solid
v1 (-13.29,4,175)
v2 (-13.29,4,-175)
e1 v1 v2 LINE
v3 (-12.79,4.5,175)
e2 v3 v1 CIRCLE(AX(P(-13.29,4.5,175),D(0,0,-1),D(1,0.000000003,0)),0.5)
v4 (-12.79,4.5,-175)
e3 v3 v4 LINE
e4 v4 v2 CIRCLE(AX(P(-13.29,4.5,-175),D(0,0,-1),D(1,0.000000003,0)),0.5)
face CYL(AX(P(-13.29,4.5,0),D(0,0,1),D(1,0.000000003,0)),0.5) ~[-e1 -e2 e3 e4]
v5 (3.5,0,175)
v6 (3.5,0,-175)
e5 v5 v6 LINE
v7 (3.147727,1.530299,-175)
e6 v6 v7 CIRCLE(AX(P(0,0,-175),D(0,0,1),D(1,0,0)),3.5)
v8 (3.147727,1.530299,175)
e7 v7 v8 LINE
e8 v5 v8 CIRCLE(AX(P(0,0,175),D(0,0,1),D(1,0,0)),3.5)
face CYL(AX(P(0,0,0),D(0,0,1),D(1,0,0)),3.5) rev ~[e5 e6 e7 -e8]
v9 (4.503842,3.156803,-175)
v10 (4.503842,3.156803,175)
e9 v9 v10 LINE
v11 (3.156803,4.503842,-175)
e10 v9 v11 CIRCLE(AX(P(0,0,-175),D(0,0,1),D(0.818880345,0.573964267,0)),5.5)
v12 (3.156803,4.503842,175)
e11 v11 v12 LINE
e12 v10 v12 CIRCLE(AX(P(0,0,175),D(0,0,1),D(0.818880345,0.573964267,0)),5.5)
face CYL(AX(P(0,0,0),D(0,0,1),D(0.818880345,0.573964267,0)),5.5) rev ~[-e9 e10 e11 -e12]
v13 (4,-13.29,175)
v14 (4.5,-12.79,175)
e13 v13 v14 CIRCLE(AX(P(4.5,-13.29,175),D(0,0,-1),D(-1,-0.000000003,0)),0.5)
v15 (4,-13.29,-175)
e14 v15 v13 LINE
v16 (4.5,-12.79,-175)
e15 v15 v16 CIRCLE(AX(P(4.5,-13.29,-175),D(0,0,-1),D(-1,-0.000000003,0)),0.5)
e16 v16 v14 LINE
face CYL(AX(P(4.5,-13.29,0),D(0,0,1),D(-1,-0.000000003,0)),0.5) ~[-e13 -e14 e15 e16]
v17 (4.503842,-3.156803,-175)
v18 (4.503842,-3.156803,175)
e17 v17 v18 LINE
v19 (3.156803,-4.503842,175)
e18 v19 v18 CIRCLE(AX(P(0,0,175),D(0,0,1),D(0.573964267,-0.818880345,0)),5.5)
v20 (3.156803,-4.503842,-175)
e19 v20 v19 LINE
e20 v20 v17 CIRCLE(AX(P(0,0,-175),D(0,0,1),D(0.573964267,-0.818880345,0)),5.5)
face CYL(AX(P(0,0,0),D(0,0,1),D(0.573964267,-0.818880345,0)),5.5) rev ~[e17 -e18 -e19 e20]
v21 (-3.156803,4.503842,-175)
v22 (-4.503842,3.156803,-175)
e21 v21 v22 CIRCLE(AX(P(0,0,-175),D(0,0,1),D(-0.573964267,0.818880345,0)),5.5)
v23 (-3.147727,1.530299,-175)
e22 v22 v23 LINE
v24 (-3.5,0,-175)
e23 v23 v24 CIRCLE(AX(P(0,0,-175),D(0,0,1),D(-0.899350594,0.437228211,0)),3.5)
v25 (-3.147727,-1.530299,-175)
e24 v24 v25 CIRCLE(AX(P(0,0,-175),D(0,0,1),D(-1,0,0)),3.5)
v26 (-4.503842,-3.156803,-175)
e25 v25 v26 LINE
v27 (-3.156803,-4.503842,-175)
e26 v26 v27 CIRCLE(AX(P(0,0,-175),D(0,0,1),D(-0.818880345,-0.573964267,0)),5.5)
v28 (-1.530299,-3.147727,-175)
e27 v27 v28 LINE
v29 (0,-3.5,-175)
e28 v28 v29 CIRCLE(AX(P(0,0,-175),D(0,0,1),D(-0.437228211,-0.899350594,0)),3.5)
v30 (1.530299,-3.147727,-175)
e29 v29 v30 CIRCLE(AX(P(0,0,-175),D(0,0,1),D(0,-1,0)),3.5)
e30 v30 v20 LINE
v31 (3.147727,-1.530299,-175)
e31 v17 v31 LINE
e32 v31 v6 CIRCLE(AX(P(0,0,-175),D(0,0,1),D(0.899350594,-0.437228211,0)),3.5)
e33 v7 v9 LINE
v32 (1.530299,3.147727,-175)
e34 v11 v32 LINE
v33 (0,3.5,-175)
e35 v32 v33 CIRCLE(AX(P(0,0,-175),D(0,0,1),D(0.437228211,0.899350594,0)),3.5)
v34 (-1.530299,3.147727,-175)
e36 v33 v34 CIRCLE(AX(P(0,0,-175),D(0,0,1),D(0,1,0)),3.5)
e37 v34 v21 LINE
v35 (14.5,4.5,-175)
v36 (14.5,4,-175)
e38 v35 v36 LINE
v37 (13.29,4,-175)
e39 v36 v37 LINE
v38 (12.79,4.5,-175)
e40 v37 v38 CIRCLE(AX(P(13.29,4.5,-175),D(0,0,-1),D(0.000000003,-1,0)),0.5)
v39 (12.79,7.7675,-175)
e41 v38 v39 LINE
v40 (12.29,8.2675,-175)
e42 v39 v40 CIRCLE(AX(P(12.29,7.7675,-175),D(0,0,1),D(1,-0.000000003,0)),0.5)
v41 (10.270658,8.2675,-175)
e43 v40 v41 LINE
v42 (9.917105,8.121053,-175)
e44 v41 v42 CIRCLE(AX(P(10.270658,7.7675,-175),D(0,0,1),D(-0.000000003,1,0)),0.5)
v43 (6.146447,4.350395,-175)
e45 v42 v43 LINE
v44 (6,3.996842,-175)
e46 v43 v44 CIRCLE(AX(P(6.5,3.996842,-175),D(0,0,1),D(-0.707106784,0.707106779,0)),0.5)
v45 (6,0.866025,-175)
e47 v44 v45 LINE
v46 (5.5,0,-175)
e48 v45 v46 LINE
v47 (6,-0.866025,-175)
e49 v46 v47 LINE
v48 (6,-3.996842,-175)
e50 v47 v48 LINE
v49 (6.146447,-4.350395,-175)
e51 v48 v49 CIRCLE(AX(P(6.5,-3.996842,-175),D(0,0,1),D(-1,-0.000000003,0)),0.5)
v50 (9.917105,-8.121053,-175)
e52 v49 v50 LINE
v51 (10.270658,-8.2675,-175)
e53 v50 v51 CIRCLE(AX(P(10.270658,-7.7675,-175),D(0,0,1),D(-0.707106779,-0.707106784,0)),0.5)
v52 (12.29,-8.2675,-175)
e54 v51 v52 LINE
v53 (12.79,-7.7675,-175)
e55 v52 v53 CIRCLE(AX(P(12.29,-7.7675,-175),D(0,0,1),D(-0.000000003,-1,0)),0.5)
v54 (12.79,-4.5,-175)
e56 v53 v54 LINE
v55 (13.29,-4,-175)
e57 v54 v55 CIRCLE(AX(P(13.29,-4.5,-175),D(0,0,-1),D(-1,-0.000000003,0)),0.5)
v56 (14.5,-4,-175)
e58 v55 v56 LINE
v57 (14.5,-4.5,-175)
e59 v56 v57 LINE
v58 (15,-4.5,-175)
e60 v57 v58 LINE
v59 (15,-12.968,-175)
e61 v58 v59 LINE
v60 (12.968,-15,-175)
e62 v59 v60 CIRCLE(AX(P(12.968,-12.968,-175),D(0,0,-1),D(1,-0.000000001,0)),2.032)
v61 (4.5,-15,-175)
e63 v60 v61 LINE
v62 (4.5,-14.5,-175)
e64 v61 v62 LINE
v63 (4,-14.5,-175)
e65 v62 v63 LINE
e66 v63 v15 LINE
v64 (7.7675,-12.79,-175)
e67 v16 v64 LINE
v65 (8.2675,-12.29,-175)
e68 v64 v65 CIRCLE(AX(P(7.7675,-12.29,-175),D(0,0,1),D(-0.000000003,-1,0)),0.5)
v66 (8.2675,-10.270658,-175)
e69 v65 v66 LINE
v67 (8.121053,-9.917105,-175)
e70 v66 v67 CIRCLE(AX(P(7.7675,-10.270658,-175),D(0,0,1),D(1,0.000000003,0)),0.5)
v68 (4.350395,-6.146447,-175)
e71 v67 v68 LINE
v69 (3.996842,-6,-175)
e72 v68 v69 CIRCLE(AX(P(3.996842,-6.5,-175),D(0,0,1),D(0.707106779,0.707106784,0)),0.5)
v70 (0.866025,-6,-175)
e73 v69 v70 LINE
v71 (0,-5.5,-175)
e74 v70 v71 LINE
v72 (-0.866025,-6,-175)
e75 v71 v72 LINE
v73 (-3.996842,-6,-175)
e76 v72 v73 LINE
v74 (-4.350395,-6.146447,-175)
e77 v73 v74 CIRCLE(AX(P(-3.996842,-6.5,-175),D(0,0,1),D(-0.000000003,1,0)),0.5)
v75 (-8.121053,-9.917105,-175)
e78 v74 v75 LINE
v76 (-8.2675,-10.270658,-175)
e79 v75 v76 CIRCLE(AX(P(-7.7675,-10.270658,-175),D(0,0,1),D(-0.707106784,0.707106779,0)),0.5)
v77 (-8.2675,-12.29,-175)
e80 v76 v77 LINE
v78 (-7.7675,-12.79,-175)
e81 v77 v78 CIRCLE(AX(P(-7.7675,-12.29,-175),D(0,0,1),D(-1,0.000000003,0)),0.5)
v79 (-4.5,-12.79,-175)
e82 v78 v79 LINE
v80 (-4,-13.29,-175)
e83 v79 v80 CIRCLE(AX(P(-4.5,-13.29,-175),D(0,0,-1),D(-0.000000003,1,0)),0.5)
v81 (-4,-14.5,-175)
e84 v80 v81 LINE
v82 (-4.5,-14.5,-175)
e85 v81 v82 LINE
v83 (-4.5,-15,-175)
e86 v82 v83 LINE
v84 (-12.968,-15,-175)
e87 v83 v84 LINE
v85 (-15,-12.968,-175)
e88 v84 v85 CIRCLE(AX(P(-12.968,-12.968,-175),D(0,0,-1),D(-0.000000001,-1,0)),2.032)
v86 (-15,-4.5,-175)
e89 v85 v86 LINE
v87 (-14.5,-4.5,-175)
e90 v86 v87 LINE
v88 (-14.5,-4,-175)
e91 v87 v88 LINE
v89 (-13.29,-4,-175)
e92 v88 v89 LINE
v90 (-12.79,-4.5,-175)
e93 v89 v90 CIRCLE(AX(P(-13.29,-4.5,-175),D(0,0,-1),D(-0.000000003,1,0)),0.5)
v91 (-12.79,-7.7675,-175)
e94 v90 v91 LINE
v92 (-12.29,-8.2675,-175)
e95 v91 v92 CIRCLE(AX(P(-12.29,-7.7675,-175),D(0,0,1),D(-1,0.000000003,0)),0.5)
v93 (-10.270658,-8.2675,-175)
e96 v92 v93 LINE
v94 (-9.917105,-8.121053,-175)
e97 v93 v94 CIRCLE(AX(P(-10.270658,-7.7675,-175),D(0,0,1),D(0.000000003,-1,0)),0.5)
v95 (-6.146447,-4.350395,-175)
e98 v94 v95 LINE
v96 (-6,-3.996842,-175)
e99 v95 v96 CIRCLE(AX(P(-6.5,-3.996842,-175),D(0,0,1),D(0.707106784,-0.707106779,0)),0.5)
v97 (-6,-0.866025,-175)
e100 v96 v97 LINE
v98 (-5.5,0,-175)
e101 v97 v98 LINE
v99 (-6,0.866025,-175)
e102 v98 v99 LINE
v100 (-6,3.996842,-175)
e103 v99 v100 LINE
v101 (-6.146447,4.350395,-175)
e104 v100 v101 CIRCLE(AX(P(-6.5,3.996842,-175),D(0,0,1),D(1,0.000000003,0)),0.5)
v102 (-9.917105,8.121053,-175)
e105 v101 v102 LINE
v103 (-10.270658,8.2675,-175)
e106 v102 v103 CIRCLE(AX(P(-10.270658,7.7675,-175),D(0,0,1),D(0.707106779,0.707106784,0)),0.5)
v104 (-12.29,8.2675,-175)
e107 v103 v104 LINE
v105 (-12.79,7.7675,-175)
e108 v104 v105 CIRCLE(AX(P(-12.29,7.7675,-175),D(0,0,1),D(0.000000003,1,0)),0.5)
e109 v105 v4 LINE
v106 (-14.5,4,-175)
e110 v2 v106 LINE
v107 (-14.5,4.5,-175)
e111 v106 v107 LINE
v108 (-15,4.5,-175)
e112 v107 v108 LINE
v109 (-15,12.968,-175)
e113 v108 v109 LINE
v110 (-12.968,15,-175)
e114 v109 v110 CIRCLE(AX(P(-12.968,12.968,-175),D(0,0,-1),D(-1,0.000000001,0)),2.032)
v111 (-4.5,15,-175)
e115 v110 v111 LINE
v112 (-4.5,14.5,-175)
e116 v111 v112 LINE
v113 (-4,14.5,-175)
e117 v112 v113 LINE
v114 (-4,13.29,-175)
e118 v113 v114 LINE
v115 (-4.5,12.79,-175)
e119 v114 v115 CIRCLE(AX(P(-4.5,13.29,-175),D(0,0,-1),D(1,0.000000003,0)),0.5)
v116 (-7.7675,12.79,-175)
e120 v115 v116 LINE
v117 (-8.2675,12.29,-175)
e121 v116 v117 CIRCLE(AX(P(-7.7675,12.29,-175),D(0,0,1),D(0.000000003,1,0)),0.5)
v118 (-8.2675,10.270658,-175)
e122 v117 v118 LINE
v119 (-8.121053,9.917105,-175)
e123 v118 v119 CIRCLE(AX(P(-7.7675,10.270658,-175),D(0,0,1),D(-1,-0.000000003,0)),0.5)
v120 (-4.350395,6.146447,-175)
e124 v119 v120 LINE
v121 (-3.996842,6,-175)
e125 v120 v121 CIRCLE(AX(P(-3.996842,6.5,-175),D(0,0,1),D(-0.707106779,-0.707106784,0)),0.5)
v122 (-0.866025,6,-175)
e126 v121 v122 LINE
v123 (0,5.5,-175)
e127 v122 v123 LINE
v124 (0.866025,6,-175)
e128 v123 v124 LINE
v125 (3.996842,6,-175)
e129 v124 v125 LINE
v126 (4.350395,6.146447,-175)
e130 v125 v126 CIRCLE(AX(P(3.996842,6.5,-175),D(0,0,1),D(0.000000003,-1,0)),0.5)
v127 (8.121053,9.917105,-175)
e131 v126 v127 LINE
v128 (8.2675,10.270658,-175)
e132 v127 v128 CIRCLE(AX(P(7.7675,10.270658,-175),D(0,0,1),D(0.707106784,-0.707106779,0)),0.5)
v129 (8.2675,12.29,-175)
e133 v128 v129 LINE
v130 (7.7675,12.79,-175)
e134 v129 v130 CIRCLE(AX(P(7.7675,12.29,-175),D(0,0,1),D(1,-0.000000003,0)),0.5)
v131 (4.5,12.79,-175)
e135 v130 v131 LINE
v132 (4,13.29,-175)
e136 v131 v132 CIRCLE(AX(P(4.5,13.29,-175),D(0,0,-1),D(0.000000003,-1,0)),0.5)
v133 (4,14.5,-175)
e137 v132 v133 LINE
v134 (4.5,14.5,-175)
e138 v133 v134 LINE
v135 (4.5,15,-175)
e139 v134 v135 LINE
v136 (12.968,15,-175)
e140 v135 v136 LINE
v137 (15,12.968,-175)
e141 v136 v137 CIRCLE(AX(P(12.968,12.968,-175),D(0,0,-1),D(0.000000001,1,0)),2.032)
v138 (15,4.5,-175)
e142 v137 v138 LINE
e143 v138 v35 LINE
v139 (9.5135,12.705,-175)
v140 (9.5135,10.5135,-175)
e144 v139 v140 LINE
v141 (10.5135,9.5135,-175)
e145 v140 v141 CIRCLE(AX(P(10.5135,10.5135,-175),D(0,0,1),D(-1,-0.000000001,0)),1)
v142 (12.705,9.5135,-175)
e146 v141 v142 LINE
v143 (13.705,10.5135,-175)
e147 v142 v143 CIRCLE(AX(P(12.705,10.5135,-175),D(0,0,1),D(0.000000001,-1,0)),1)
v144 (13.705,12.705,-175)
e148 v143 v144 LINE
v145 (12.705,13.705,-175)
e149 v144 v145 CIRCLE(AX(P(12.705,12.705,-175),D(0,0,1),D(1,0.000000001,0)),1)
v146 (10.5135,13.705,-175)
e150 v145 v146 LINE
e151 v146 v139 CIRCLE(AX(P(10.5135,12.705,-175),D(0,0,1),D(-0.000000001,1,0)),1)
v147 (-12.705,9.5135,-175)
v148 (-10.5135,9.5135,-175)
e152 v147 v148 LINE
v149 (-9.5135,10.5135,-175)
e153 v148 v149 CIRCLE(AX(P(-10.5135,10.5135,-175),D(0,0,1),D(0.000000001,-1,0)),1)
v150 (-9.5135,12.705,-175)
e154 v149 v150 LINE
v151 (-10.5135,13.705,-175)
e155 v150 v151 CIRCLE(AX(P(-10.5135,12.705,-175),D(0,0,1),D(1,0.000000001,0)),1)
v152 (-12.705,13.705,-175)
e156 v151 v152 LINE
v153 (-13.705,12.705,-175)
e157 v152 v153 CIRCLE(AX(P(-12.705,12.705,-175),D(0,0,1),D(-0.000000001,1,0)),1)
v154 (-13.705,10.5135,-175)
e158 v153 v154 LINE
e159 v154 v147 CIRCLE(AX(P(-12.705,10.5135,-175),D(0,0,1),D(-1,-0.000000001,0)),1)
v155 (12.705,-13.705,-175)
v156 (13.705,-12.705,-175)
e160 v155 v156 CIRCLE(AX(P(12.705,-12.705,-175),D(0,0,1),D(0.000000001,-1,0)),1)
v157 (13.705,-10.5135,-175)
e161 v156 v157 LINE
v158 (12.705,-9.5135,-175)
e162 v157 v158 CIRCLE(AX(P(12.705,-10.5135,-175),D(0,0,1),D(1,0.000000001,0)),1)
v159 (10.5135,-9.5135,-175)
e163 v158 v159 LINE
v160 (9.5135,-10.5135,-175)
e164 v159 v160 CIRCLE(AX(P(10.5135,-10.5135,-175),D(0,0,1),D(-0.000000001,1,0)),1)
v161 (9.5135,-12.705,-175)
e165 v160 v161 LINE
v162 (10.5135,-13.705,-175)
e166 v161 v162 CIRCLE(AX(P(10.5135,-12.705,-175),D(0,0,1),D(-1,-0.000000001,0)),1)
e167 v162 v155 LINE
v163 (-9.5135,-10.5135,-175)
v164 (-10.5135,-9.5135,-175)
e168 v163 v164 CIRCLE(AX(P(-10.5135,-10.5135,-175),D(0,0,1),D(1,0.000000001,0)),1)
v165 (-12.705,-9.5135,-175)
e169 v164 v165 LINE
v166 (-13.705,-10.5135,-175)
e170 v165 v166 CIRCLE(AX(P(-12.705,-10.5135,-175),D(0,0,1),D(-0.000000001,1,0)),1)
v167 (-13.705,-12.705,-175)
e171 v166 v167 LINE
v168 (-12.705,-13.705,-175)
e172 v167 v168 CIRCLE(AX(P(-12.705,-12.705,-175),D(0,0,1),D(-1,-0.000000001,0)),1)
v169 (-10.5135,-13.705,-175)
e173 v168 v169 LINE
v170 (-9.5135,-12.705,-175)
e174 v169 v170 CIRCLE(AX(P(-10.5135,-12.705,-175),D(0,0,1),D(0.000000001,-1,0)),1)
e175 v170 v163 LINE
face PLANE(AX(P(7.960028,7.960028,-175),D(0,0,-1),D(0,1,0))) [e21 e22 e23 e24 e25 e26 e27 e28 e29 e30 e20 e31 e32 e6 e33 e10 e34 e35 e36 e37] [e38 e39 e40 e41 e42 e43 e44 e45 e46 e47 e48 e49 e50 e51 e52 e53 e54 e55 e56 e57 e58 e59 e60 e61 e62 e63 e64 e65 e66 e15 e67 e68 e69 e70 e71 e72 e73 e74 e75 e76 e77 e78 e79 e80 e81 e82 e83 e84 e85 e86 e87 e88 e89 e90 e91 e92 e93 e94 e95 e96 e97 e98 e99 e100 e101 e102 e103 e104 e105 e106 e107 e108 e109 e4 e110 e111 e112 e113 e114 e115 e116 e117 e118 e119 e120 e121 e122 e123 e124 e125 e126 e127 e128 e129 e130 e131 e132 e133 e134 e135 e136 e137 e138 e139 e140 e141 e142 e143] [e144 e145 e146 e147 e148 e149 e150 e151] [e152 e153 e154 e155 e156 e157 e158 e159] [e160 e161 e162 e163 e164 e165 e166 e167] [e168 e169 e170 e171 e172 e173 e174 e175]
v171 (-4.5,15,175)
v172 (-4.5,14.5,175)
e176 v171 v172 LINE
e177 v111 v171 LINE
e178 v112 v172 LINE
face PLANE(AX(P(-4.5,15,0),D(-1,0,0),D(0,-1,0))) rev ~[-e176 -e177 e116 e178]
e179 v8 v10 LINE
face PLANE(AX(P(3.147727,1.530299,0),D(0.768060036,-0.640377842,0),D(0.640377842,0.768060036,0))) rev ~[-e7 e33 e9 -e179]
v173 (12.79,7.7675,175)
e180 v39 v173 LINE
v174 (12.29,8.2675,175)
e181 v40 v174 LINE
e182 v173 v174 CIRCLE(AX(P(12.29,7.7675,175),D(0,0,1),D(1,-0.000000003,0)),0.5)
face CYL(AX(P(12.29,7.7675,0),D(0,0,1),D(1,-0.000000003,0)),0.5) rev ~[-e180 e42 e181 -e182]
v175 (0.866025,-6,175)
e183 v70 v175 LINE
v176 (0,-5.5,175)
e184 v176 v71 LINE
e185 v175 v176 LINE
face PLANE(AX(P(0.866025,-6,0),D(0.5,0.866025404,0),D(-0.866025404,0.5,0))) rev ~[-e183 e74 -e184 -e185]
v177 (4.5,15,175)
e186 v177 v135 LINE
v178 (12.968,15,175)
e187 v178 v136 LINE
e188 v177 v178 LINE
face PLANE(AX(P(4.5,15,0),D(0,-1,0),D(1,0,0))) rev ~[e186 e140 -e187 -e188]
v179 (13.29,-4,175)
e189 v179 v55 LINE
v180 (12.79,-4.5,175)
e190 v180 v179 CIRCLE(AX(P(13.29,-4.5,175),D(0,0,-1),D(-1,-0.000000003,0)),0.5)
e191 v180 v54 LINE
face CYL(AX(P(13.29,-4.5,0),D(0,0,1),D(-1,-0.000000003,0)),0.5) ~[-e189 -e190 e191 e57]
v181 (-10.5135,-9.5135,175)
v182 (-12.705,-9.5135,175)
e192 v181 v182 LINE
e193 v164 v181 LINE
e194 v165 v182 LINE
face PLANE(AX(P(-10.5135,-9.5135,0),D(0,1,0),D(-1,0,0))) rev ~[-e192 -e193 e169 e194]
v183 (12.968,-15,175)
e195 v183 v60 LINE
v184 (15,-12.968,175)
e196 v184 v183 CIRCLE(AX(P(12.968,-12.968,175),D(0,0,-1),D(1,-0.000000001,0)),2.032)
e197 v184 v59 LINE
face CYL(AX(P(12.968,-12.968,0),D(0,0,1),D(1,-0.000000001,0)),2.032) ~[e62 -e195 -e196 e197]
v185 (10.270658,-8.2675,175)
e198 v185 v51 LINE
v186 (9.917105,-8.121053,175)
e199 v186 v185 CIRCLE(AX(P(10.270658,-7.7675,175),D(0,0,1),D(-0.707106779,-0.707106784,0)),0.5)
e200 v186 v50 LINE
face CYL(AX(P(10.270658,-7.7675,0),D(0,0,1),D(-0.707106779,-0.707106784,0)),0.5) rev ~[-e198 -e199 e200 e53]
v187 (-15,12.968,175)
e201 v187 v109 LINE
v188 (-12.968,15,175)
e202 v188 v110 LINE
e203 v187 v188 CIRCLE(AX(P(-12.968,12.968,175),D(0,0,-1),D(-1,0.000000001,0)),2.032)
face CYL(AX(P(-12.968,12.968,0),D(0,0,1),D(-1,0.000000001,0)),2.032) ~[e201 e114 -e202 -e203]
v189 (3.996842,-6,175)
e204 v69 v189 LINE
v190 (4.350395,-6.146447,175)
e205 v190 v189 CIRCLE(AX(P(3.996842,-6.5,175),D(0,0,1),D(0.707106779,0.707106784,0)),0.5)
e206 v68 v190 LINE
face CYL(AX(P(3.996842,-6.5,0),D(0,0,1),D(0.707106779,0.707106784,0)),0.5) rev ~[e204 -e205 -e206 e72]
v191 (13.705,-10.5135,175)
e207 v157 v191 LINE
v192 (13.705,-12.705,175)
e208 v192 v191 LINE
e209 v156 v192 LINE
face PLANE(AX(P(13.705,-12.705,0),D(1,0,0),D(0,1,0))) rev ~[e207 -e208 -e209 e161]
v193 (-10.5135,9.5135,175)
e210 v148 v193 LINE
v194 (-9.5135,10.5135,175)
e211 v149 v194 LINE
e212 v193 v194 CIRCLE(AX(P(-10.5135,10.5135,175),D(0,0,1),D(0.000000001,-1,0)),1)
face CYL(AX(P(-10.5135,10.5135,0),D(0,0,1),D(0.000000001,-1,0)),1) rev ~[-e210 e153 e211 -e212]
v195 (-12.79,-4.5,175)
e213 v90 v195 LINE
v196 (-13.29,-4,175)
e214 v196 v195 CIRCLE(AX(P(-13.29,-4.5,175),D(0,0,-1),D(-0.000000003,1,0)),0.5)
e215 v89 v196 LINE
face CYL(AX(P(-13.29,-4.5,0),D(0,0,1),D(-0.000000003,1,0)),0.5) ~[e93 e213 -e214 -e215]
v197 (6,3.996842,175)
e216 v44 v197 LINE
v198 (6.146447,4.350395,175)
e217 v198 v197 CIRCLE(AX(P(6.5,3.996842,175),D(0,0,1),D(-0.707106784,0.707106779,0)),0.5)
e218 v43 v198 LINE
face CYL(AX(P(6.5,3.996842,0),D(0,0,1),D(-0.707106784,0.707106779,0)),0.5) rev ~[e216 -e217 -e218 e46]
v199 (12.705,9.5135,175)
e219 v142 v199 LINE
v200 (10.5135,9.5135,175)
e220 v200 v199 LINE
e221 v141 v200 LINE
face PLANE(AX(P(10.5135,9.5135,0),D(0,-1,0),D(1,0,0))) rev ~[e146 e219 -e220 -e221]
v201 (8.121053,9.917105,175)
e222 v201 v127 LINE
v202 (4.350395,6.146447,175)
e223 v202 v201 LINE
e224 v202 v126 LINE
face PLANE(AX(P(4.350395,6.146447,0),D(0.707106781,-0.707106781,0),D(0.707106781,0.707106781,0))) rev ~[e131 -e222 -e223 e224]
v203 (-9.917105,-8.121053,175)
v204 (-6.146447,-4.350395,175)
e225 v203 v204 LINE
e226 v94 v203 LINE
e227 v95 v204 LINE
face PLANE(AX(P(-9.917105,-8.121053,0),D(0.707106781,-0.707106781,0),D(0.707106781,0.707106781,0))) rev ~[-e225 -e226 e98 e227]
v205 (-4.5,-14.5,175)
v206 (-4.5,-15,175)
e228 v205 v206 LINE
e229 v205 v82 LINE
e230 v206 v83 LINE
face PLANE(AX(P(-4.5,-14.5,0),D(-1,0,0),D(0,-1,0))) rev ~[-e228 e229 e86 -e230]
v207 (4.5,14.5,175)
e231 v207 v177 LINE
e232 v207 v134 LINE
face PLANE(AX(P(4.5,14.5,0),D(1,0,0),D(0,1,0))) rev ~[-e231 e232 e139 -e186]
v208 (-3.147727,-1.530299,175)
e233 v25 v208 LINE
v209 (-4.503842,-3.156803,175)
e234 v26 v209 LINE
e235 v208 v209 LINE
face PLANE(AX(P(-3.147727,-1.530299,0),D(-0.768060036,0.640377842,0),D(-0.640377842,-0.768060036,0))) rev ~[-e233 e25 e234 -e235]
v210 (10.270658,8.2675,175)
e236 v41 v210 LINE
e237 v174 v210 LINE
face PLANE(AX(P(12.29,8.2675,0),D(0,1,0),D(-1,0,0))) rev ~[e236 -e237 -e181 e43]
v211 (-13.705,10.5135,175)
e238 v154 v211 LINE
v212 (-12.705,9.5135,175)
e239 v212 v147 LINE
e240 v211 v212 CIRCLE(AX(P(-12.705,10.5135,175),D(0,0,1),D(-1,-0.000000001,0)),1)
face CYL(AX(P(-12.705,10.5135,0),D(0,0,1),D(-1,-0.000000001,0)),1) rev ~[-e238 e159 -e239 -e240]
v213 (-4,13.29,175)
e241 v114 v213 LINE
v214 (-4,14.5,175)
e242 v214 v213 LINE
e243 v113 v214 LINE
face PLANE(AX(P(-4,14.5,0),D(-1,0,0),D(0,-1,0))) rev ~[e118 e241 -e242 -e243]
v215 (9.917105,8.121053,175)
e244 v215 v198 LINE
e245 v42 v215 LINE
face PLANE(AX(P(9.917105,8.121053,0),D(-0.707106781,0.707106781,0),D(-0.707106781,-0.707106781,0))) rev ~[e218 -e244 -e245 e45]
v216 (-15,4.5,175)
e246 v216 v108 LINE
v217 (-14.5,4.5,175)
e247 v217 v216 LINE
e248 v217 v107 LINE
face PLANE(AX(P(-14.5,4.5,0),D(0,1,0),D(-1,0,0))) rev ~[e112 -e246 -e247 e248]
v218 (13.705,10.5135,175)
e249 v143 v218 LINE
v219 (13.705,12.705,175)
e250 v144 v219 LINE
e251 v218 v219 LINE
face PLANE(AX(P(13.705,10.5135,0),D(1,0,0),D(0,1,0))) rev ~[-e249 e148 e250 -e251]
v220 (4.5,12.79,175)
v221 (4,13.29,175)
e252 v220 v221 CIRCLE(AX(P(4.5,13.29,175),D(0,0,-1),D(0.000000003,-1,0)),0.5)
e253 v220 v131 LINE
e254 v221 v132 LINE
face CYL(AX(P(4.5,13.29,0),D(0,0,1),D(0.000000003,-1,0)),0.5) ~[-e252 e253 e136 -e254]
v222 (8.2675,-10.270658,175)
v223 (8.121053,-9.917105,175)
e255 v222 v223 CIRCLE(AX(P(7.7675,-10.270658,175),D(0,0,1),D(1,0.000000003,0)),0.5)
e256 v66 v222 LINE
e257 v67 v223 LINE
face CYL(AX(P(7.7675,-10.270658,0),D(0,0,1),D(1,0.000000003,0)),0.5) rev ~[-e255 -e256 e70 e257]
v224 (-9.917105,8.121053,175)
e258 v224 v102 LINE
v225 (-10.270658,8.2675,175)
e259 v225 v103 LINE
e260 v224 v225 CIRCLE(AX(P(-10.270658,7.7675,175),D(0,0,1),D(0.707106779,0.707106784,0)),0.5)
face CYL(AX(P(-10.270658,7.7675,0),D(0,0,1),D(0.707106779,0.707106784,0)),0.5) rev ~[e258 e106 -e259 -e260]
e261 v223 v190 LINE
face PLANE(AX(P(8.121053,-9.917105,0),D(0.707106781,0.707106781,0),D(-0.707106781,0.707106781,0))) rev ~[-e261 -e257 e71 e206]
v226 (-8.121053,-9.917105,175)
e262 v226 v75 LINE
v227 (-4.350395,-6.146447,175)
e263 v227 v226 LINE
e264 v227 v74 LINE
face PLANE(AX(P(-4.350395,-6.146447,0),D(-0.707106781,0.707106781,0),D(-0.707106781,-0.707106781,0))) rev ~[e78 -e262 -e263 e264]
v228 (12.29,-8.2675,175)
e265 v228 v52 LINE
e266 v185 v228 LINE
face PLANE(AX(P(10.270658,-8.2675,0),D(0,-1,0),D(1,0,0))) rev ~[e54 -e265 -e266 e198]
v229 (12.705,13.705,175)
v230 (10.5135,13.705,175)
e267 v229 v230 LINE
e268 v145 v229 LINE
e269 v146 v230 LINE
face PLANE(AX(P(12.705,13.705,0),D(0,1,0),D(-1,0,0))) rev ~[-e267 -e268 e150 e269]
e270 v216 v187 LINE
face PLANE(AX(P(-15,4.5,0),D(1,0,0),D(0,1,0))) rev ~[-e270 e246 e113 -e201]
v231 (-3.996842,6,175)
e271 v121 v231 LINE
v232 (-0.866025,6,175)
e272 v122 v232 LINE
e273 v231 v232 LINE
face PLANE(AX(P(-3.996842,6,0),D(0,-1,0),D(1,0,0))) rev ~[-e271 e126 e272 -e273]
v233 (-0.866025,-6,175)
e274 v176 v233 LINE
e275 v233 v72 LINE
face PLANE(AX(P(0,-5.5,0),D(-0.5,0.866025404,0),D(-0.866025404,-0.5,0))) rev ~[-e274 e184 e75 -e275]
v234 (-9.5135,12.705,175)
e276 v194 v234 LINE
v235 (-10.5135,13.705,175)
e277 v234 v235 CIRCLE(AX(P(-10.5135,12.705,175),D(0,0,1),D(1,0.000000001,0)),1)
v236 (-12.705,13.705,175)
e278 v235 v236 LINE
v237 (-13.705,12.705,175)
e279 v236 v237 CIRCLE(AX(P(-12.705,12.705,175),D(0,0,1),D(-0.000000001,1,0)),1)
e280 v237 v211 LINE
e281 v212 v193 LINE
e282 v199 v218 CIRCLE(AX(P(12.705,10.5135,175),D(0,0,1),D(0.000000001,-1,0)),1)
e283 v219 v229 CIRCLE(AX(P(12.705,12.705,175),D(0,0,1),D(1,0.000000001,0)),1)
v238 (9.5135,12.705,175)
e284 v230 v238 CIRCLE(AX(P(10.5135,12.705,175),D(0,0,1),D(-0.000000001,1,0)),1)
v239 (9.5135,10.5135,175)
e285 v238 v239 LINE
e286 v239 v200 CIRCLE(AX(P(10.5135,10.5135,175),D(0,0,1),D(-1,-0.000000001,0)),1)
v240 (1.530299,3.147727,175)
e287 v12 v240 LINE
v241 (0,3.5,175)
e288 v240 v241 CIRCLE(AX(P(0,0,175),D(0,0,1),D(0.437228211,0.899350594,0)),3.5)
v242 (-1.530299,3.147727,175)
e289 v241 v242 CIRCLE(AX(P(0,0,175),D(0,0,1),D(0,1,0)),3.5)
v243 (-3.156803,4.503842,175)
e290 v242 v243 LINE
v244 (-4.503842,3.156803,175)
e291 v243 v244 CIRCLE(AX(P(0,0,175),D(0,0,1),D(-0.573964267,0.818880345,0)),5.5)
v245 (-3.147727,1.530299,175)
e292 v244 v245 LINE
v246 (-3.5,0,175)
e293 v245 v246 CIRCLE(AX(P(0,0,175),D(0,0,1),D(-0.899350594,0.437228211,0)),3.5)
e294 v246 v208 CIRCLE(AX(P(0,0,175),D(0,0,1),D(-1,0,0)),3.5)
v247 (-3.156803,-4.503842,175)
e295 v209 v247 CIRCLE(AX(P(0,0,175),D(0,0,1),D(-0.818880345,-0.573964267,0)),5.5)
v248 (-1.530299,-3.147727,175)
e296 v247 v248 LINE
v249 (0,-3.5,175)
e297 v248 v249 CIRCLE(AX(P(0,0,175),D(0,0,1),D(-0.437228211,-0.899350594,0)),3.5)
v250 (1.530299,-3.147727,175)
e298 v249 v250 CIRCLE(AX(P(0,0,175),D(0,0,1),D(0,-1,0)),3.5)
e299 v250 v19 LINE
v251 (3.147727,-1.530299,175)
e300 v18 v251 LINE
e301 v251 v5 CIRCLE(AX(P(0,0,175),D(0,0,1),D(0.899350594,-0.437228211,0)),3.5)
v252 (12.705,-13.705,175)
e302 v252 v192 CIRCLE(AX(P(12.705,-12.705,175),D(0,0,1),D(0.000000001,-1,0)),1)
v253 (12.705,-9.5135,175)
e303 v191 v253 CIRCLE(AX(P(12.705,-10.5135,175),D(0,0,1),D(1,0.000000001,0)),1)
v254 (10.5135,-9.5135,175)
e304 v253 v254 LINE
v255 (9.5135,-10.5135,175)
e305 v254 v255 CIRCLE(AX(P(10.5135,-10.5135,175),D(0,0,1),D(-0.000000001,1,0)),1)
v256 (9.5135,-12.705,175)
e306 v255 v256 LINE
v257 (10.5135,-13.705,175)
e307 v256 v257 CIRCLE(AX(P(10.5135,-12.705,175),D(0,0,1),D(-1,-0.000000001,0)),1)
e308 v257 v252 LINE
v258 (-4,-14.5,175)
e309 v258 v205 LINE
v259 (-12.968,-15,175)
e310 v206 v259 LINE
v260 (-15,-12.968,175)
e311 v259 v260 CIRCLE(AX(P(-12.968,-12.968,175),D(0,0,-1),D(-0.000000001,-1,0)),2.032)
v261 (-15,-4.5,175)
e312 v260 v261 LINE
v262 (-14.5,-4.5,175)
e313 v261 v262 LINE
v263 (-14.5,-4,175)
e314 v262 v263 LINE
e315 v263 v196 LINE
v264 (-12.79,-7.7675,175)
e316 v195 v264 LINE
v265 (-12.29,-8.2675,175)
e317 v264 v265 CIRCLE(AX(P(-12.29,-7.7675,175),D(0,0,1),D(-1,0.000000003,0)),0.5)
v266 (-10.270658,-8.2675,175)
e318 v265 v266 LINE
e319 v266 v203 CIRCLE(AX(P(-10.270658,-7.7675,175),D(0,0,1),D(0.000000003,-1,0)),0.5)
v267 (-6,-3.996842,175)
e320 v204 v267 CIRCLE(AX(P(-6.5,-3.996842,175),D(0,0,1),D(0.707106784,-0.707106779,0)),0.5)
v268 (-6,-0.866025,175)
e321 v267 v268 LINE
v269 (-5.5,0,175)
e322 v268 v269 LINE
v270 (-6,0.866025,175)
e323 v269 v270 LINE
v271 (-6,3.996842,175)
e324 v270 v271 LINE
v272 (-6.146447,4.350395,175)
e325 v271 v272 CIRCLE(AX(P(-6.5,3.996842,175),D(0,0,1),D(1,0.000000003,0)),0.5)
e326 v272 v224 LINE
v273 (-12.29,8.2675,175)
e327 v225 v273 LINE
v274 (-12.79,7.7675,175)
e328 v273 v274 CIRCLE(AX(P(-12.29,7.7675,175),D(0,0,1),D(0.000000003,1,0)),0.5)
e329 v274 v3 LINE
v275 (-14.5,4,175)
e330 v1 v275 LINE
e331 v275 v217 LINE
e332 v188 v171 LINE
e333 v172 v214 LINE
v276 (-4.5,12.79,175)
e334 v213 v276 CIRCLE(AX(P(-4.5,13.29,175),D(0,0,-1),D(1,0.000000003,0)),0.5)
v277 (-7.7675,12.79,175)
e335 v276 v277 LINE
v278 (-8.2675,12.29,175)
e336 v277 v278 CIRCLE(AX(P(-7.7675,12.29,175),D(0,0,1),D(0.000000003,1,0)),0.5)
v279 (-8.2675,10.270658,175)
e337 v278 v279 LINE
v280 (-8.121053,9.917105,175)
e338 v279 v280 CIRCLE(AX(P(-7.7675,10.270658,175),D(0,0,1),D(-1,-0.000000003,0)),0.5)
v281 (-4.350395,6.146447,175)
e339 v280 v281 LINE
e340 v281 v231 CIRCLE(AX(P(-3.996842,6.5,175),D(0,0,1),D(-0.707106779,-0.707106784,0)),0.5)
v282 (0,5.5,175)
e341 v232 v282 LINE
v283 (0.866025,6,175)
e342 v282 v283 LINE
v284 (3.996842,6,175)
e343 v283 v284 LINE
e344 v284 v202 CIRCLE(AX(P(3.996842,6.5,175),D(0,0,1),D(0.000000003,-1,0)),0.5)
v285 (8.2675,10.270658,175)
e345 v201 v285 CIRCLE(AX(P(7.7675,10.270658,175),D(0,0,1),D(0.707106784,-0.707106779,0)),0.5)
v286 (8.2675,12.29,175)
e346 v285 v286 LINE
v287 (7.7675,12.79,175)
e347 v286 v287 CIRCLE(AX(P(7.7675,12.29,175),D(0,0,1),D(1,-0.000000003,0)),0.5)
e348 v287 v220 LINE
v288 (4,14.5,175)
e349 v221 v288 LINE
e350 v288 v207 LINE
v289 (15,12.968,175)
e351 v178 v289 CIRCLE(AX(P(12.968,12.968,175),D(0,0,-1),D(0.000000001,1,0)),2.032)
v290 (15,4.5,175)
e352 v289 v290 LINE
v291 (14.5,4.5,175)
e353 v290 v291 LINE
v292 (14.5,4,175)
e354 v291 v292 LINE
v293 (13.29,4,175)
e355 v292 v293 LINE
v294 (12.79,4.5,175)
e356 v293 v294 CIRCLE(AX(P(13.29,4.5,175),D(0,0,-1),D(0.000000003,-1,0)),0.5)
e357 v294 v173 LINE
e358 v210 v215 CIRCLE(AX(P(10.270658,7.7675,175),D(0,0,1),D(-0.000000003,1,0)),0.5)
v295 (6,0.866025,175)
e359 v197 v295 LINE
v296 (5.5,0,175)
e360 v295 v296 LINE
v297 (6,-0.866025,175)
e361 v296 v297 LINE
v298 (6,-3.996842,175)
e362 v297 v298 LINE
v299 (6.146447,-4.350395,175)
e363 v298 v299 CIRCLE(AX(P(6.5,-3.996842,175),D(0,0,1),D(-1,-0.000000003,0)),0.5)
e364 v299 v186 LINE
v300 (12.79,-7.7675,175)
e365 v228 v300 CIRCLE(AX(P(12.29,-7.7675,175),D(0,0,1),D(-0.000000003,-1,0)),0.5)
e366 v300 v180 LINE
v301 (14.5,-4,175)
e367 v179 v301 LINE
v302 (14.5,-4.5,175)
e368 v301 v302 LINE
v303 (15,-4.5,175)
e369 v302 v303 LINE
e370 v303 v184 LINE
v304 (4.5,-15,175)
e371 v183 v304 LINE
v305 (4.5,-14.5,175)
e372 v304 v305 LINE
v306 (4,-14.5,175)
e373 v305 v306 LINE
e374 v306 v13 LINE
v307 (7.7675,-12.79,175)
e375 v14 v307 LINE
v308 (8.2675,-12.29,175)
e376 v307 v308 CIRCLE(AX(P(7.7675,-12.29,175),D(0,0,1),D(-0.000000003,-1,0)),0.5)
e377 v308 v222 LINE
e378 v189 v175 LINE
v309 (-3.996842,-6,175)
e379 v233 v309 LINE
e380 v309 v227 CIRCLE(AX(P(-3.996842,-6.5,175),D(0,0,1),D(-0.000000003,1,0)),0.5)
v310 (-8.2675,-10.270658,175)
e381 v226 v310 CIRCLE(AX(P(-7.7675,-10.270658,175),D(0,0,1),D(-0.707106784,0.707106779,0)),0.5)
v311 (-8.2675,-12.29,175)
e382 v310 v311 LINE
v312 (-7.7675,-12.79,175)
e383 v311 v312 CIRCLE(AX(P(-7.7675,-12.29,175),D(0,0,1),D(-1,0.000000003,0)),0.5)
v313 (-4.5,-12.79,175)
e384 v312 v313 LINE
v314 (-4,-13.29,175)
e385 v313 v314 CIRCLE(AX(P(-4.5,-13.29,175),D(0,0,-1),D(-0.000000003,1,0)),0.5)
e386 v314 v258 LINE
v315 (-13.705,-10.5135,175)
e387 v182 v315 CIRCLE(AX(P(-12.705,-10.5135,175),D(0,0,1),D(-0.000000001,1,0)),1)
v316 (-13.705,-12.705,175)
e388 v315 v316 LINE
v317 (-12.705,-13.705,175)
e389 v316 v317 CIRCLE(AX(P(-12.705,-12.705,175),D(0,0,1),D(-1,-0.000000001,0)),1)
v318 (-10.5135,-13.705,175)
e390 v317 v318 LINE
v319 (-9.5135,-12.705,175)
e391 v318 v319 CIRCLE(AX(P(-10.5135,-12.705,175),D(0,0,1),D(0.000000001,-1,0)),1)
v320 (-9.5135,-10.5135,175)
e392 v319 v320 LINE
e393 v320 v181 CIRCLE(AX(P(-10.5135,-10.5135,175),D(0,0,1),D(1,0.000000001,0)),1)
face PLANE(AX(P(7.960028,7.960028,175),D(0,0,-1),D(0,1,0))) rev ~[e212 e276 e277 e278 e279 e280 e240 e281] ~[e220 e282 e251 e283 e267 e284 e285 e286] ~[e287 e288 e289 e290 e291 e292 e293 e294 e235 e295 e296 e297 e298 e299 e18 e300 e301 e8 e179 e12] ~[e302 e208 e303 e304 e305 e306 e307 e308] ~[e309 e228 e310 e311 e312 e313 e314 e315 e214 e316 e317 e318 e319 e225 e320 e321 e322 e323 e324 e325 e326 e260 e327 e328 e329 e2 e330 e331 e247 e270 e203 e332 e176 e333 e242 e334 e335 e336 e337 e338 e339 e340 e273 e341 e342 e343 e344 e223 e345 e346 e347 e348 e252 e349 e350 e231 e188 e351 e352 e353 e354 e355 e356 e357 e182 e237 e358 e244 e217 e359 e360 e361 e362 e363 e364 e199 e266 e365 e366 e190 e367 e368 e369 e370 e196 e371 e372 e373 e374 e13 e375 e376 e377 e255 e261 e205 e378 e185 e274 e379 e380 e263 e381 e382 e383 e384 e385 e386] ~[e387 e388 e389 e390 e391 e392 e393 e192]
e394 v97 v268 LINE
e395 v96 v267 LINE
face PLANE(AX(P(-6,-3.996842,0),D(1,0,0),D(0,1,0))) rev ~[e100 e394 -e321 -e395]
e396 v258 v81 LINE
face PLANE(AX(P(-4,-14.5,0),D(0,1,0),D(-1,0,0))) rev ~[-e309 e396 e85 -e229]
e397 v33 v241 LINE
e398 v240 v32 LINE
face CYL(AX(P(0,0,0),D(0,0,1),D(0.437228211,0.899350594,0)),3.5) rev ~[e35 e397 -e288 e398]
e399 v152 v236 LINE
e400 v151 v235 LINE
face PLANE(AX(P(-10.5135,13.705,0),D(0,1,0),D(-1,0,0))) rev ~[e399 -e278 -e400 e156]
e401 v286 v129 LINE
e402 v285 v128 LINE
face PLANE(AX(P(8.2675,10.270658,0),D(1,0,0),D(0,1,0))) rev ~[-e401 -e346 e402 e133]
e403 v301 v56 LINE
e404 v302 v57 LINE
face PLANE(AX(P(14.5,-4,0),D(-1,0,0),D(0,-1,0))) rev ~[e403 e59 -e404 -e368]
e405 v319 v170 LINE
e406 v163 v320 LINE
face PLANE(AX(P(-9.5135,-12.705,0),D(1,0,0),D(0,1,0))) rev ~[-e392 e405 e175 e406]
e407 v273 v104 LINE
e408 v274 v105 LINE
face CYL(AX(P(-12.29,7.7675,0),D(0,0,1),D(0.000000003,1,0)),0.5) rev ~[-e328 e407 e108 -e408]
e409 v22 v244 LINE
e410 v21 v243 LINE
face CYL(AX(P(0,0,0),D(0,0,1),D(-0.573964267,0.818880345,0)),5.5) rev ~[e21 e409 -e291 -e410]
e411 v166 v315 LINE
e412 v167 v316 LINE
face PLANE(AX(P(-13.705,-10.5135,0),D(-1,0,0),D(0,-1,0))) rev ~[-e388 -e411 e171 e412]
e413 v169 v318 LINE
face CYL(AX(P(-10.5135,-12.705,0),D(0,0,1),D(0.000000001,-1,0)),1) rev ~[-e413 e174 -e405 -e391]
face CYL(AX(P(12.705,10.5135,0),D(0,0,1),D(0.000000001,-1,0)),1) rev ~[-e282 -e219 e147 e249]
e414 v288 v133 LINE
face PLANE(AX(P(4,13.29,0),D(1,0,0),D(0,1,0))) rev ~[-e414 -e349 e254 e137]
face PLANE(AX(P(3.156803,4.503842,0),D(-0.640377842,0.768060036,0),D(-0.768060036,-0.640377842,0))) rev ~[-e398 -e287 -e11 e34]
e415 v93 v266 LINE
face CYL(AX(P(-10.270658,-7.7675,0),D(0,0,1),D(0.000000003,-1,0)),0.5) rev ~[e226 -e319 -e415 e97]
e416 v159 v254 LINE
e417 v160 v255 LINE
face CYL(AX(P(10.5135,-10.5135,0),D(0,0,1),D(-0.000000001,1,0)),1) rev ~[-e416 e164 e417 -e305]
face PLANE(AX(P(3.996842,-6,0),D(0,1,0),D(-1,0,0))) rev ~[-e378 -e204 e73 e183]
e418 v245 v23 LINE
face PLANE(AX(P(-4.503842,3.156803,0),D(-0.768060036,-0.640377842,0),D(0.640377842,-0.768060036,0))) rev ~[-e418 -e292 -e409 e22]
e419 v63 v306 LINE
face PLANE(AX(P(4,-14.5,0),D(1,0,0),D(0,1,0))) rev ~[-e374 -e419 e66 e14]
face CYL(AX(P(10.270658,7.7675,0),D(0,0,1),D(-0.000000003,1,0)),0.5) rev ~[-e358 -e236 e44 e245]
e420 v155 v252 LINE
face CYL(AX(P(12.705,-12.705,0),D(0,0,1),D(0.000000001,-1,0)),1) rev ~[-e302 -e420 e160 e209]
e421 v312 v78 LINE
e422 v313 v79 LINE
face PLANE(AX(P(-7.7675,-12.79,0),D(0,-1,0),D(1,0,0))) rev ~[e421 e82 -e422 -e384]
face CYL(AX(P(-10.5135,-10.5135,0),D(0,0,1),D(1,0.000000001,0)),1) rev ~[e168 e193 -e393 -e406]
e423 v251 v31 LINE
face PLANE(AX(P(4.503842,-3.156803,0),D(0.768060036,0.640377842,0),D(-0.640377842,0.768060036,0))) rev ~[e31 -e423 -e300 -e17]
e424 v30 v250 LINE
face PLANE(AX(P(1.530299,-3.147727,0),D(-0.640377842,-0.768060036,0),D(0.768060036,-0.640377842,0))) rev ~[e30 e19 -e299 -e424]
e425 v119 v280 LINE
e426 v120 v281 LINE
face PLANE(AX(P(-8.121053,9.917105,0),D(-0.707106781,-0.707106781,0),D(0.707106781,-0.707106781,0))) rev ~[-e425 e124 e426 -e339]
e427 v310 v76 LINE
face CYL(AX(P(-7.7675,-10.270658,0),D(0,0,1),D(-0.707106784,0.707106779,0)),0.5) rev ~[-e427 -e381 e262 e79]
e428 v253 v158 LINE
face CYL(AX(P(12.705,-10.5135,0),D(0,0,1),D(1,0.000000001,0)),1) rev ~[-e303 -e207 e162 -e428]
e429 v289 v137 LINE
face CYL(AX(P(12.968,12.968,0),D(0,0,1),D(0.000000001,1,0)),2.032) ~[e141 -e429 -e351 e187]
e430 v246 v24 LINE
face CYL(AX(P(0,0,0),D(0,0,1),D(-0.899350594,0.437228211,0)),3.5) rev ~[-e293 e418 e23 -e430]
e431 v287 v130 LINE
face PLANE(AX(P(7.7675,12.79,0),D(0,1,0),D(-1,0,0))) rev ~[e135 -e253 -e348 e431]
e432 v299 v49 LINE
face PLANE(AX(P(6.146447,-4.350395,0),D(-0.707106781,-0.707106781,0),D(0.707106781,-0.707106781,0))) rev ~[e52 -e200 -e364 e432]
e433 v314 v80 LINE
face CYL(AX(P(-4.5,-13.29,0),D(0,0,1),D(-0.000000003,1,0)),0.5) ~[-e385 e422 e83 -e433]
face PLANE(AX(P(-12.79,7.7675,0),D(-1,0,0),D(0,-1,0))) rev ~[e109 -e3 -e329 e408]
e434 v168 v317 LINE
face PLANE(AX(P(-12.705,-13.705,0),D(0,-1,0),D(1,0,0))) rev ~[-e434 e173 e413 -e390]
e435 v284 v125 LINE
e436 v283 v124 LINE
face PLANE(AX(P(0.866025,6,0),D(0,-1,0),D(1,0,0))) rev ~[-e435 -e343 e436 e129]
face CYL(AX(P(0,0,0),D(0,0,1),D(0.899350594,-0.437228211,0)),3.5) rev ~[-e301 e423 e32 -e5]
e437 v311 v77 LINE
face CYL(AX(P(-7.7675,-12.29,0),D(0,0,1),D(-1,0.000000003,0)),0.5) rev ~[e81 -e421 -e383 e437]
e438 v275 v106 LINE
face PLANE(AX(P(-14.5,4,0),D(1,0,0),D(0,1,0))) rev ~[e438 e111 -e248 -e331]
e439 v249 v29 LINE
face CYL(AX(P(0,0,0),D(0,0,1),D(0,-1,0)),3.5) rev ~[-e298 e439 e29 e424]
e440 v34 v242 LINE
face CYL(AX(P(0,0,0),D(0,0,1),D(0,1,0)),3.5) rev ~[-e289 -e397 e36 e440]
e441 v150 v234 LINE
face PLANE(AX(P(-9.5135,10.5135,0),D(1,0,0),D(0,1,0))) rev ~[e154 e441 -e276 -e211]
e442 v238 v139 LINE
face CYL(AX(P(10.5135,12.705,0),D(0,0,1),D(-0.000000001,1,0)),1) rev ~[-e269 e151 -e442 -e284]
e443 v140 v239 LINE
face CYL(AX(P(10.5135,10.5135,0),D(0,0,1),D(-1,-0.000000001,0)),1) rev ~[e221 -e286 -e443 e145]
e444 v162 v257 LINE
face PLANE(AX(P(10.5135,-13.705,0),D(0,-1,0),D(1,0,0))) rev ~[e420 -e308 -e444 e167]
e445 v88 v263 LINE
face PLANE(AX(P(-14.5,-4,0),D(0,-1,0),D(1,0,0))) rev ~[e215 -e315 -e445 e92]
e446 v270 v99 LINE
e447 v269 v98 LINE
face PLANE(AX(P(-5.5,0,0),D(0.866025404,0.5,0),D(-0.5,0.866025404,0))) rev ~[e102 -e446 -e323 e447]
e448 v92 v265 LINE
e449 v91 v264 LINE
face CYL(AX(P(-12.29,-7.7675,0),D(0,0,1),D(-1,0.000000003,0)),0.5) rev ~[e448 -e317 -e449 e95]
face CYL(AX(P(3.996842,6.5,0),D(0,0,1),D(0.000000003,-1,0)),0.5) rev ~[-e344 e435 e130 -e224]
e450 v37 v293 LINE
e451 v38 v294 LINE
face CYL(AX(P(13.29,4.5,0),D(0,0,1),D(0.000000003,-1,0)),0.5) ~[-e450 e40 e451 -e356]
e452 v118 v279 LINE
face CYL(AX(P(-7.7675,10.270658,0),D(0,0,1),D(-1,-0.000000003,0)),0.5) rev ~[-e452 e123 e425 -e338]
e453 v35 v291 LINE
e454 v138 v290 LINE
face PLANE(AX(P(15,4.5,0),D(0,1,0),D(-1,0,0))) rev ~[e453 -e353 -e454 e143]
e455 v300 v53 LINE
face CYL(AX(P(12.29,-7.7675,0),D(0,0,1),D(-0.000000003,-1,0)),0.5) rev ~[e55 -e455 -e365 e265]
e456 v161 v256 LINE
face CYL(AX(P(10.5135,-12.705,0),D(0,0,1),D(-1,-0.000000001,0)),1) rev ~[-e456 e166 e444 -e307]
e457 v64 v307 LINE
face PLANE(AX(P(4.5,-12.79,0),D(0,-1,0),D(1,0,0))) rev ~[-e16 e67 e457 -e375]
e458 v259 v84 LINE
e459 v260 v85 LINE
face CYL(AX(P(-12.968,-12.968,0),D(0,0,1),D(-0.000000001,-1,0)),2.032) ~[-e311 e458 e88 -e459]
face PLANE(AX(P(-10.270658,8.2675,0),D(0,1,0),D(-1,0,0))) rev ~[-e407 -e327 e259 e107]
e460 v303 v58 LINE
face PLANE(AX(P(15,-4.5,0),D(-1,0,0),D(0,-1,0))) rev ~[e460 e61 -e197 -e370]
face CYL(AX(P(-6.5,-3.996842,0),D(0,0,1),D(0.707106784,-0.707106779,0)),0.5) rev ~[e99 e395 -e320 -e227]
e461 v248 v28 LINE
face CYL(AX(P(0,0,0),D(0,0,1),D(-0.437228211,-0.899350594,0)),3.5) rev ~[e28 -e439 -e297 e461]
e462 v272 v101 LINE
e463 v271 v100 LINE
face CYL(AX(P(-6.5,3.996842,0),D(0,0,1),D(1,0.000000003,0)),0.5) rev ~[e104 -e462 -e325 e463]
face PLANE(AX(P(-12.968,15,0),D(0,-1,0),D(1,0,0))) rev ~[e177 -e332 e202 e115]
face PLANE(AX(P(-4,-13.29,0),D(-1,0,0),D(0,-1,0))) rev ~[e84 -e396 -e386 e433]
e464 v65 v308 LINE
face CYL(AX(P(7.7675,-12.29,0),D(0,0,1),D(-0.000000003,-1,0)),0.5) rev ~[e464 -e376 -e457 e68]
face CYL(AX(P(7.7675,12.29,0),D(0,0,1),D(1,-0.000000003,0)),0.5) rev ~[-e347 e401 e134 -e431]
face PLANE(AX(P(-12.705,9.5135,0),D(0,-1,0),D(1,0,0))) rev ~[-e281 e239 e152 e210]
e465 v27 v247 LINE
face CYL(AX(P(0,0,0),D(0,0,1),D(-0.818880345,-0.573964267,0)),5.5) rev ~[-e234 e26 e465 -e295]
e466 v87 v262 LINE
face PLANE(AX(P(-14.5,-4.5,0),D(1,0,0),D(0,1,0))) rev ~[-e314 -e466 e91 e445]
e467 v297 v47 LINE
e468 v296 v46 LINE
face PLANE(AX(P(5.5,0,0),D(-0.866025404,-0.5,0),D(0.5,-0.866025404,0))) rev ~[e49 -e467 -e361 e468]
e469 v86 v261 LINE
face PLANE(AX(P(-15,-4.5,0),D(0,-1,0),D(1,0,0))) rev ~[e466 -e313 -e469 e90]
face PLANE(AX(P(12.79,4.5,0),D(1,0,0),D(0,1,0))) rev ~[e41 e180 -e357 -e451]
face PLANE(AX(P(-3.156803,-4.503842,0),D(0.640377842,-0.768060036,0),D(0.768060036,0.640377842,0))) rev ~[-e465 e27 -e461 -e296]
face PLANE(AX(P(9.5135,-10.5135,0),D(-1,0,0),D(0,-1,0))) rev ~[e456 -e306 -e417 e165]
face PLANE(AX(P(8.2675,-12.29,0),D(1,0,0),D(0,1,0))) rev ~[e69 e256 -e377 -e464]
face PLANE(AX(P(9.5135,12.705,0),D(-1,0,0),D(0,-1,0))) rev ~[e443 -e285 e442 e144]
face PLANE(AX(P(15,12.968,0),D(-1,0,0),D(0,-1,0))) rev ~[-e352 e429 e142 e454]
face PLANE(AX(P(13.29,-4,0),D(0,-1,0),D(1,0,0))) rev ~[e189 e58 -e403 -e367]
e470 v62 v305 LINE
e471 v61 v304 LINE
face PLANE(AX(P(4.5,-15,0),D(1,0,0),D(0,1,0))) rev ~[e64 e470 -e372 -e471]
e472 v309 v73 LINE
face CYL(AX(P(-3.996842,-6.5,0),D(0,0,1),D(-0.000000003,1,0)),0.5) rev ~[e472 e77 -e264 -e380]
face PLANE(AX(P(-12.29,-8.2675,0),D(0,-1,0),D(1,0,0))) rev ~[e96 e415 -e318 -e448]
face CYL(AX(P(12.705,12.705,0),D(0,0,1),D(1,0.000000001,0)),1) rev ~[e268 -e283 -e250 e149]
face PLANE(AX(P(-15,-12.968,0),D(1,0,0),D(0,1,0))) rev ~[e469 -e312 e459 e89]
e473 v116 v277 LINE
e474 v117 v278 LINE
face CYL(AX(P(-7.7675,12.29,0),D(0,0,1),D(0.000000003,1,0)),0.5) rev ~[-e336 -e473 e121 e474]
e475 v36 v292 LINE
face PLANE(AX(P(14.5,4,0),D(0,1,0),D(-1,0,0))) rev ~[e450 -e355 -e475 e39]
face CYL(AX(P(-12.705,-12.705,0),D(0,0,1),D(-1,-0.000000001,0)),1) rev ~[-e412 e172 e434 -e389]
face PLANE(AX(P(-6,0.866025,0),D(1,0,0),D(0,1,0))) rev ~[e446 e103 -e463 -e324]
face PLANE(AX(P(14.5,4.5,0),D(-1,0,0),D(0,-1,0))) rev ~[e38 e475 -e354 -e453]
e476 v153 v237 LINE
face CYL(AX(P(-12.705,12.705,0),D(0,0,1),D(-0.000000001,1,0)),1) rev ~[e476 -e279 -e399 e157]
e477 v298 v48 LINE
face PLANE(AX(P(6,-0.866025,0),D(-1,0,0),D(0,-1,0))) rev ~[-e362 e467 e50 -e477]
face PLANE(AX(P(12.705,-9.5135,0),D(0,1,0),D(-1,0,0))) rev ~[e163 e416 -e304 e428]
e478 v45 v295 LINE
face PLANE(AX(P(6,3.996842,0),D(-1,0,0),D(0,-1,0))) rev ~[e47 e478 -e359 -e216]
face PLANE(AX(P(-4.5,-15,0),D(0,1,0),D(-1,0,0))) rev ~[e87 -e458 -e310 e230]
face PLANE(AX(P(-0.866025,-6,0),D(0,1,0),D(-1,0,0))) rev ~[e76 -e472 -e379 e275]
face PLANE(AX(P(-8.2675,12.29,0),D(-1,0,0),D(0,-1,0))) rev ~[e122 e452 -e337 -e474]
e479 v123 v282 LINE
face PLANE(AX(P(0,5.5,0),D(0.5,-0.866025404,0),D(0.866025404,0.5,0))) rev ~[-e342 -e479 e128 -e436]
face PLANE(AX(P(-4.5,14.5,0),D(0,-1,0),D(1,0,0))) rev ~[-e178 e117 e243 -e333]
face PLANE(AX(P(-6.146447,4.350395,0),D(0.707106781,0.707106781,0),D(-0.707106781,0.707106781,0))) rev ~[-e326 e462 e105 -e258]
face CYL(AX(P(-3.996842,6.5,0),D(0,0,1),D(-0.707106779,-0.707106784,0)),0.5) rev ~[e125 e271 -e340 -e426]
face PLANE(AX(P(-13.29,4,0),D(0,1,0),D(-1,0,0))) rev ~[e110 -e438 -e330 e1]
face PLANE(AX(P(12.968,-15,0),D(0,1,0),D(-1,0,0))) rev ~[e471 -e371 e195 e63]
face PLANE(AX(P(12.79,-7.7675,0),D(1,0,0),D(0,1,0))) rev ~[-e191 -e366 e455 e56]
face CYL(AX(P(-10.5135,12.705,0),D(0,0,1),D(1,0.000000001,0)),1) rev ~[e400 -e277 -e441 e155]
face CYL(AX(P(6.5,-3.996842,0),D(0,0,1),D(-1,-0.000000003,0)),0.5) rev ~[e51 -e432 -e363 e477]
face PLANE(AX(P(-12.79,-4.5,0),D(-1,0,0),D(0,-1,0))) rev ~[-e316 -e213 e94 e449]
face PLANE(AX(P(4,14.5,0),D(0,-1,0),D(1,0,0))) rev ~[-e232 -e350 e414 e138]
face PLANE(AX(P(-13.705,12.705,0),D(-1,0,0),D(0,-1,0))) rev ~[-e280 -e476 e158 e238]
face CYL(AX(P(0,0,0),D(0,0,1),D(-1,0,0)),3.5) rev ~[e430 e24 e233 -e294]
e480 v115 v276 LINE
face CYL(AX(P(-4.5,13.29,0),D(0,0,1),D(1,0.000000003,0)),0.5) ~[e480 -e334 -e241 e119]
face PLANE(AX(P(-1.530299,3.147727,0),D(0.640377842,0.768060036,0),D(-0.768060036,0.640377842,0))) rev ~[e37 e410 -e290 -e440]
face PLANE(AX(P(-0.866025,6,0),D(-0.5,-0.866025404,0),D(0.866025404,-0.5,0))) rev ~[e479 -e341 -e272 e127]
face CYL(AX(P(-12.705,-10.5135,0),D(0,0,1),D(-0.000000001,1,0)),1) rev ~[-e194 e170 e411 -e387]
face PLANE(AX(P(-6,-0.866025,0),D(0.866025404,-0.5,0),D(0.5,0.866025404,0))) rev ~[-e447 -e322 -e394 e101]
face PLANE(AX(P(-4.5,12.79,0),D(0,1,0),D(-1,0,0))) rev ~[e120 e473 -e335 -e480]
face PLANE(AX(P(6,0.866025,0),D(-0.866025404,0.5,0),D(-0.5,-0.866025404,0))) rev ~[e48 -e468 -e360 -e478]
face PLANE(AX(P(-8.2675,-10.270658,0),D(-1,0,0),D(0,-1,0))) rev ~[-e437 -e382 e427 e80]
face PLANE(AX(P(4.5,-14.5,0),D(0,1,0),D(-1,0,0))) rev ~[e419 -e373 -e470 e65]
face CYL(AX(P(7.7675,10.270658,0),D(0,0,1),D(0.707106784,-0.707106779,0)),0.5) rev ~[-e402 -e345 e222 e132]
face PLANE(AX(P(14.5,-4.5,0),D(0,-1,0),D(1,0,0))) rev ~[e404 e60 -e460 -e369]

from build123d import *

# Parameters (mm, degrees)
BOSS_EXTRUDE1_DEPTH = 175
CIRPATTERN1_COUNT   = 4


with BuildPart() as part:
    # Sketch3 → Boss-Extrude1 (new, symmetric)
    with BuildSketch(Plane.XY):
        with BuildLine():
            Line((-4.503841895, 3.156803476), (-3.14772708, 1.530298739))
            ThreePointArc((-3.14772708, 1.530298739), (-3.410794979, 0.785160882), (-3.5, 0))
            Line((-3.5, 0), (-5.5, 0))
            Line((-5.5, 0), (-6, 0.866025404))
            Line((-6, 0.866025404), (-6, 3.996841995))
            ThreePointArc((-6, 3.996841995), (-6.038060234, 4.188183711), (-6.146446609, 4.350395385))
            Line((-6.146446609, 4.350395385), (-9.917104615, 8.121053391))
            ThreePointArc((-9.917104615, 8.121053391), (-10.079316289, 8.229439766), (-10.270658005, 8.2675))
            Line((-10.270658005, 8.2675), (-12.29, 8.2675))
            ThreePointArc((-12.29, 8.2675), (-12.643553391, 8.121053391), (-12.79, 7.7675))
            Line((-12.79, 7.7675), (-12.79, 4.5))
            ThreePointArc((-12.79, 4.5), (-12.936446609, 4.146446609), (-13.29, 4))
            Line((-13.29, 4), (-14.5, 4))
            Line((-14.5, 4), (-14.5, 4.5))
            Line((-14.5, 4.5), (-15, 4.5))
            Line((-15, 4.5), (-15, 12.968))
            ThreePointArc((-15, 12.968), (-14.404840979, 14.404840979), (-12.968, 15))
            Line((-12.968, 15), (-4.5, 15))
            Line((-4.5, 15), (-4.5, 14.5))
            Line((-4.5, 14.5), (-4, 14.5))
            Line((-4, 14.5), (-4, 13.29))
            ThreePointArc((-4, 13.29), (-4.146446609, 12.936446609), (-4.5, 12.79))
            Line((-4.5, 12.79), (-7.7675, 12.79))
            ThreePointArc((-7.7675, 12.79), (-8.121053391, 12.643553391), (-8.2675, 12.29))
            Line((-8.2675, 12.29), (-8.2675, 10.270658005))
            ThreePointArc((-8.2675, 10.270658005), (-8.229439766, 10.079316289), (-8.121053391, 9.917104615))
            Line((-8.121053391, 9.917104615), (-4.350395385, 6.146446609))
            ThreePointArc((-4.350395385, 6.146446609), (-4.188183711, 6.038060234), (-3.996841995, 6))
            Line((-3.996841995, 6), (-0.866025404, 6))
            Line((-0.866025404, 6), (0, 5.5))
            Line((0, 5.5), (0, 3.5))
            ThreePointArc((0, 3.5), (-0.785160882, 3.410794979), (-1.530298739, 3.14772708))
            Line((-1.530298739, 3.14772708), (-3.156803476, 4.503841895))
            ThreePointArc((-3.156803476, 4.503841895), (-3.889087297, 3.889087297), (-4.503841895, 3.156803476))
        make_face()
        with BuildLine():
            Line((-12.705, 9.5135), (-10.5135, 9.5135))
            ThreePointArc((-10.5135, 9.5135), (-9.806393219, 9.806393219), (-9.5135, 10.5135))
            Line((-9.5135, 10.5135), (-9.5135, 12.705))
            ThreePointArc((-9.5135, 12.705), (-9.806393219, 13.412106781), (-10.5135, 13.705))
            Line((-10.5135, 13.705), (-12.705, 13.705))
            ThreePointArc((-12.705, 13.705), (-13.412106781, 13.412106781), (-13.705, 12.705))
            Line((-13.705, 12.705), (-13.705, 10.5135))
            ThreePointArc((-13.705, 10.5135), (-13.412106781, 9.806393219), (-12.705, 9.5135))
        make_face(mode=Mode.SUBTRACT)
    boss_extrude1 = extrude(amount=BOSS_EXTRUDE1_DEPTH, both=True)

    # CirPattern1: Boss-Extrude1 ×4 about axis
    cirpattern1_axis = Axis((0, 0, 0), (0, 0, 1))
    for i in range(1, CIRPATTERN1_COUNT):
        add(boss_extrude1.rotate(cirpattern1_axis, i * 360 / CIRPATTERN1_COUNT))


solid = part.part
